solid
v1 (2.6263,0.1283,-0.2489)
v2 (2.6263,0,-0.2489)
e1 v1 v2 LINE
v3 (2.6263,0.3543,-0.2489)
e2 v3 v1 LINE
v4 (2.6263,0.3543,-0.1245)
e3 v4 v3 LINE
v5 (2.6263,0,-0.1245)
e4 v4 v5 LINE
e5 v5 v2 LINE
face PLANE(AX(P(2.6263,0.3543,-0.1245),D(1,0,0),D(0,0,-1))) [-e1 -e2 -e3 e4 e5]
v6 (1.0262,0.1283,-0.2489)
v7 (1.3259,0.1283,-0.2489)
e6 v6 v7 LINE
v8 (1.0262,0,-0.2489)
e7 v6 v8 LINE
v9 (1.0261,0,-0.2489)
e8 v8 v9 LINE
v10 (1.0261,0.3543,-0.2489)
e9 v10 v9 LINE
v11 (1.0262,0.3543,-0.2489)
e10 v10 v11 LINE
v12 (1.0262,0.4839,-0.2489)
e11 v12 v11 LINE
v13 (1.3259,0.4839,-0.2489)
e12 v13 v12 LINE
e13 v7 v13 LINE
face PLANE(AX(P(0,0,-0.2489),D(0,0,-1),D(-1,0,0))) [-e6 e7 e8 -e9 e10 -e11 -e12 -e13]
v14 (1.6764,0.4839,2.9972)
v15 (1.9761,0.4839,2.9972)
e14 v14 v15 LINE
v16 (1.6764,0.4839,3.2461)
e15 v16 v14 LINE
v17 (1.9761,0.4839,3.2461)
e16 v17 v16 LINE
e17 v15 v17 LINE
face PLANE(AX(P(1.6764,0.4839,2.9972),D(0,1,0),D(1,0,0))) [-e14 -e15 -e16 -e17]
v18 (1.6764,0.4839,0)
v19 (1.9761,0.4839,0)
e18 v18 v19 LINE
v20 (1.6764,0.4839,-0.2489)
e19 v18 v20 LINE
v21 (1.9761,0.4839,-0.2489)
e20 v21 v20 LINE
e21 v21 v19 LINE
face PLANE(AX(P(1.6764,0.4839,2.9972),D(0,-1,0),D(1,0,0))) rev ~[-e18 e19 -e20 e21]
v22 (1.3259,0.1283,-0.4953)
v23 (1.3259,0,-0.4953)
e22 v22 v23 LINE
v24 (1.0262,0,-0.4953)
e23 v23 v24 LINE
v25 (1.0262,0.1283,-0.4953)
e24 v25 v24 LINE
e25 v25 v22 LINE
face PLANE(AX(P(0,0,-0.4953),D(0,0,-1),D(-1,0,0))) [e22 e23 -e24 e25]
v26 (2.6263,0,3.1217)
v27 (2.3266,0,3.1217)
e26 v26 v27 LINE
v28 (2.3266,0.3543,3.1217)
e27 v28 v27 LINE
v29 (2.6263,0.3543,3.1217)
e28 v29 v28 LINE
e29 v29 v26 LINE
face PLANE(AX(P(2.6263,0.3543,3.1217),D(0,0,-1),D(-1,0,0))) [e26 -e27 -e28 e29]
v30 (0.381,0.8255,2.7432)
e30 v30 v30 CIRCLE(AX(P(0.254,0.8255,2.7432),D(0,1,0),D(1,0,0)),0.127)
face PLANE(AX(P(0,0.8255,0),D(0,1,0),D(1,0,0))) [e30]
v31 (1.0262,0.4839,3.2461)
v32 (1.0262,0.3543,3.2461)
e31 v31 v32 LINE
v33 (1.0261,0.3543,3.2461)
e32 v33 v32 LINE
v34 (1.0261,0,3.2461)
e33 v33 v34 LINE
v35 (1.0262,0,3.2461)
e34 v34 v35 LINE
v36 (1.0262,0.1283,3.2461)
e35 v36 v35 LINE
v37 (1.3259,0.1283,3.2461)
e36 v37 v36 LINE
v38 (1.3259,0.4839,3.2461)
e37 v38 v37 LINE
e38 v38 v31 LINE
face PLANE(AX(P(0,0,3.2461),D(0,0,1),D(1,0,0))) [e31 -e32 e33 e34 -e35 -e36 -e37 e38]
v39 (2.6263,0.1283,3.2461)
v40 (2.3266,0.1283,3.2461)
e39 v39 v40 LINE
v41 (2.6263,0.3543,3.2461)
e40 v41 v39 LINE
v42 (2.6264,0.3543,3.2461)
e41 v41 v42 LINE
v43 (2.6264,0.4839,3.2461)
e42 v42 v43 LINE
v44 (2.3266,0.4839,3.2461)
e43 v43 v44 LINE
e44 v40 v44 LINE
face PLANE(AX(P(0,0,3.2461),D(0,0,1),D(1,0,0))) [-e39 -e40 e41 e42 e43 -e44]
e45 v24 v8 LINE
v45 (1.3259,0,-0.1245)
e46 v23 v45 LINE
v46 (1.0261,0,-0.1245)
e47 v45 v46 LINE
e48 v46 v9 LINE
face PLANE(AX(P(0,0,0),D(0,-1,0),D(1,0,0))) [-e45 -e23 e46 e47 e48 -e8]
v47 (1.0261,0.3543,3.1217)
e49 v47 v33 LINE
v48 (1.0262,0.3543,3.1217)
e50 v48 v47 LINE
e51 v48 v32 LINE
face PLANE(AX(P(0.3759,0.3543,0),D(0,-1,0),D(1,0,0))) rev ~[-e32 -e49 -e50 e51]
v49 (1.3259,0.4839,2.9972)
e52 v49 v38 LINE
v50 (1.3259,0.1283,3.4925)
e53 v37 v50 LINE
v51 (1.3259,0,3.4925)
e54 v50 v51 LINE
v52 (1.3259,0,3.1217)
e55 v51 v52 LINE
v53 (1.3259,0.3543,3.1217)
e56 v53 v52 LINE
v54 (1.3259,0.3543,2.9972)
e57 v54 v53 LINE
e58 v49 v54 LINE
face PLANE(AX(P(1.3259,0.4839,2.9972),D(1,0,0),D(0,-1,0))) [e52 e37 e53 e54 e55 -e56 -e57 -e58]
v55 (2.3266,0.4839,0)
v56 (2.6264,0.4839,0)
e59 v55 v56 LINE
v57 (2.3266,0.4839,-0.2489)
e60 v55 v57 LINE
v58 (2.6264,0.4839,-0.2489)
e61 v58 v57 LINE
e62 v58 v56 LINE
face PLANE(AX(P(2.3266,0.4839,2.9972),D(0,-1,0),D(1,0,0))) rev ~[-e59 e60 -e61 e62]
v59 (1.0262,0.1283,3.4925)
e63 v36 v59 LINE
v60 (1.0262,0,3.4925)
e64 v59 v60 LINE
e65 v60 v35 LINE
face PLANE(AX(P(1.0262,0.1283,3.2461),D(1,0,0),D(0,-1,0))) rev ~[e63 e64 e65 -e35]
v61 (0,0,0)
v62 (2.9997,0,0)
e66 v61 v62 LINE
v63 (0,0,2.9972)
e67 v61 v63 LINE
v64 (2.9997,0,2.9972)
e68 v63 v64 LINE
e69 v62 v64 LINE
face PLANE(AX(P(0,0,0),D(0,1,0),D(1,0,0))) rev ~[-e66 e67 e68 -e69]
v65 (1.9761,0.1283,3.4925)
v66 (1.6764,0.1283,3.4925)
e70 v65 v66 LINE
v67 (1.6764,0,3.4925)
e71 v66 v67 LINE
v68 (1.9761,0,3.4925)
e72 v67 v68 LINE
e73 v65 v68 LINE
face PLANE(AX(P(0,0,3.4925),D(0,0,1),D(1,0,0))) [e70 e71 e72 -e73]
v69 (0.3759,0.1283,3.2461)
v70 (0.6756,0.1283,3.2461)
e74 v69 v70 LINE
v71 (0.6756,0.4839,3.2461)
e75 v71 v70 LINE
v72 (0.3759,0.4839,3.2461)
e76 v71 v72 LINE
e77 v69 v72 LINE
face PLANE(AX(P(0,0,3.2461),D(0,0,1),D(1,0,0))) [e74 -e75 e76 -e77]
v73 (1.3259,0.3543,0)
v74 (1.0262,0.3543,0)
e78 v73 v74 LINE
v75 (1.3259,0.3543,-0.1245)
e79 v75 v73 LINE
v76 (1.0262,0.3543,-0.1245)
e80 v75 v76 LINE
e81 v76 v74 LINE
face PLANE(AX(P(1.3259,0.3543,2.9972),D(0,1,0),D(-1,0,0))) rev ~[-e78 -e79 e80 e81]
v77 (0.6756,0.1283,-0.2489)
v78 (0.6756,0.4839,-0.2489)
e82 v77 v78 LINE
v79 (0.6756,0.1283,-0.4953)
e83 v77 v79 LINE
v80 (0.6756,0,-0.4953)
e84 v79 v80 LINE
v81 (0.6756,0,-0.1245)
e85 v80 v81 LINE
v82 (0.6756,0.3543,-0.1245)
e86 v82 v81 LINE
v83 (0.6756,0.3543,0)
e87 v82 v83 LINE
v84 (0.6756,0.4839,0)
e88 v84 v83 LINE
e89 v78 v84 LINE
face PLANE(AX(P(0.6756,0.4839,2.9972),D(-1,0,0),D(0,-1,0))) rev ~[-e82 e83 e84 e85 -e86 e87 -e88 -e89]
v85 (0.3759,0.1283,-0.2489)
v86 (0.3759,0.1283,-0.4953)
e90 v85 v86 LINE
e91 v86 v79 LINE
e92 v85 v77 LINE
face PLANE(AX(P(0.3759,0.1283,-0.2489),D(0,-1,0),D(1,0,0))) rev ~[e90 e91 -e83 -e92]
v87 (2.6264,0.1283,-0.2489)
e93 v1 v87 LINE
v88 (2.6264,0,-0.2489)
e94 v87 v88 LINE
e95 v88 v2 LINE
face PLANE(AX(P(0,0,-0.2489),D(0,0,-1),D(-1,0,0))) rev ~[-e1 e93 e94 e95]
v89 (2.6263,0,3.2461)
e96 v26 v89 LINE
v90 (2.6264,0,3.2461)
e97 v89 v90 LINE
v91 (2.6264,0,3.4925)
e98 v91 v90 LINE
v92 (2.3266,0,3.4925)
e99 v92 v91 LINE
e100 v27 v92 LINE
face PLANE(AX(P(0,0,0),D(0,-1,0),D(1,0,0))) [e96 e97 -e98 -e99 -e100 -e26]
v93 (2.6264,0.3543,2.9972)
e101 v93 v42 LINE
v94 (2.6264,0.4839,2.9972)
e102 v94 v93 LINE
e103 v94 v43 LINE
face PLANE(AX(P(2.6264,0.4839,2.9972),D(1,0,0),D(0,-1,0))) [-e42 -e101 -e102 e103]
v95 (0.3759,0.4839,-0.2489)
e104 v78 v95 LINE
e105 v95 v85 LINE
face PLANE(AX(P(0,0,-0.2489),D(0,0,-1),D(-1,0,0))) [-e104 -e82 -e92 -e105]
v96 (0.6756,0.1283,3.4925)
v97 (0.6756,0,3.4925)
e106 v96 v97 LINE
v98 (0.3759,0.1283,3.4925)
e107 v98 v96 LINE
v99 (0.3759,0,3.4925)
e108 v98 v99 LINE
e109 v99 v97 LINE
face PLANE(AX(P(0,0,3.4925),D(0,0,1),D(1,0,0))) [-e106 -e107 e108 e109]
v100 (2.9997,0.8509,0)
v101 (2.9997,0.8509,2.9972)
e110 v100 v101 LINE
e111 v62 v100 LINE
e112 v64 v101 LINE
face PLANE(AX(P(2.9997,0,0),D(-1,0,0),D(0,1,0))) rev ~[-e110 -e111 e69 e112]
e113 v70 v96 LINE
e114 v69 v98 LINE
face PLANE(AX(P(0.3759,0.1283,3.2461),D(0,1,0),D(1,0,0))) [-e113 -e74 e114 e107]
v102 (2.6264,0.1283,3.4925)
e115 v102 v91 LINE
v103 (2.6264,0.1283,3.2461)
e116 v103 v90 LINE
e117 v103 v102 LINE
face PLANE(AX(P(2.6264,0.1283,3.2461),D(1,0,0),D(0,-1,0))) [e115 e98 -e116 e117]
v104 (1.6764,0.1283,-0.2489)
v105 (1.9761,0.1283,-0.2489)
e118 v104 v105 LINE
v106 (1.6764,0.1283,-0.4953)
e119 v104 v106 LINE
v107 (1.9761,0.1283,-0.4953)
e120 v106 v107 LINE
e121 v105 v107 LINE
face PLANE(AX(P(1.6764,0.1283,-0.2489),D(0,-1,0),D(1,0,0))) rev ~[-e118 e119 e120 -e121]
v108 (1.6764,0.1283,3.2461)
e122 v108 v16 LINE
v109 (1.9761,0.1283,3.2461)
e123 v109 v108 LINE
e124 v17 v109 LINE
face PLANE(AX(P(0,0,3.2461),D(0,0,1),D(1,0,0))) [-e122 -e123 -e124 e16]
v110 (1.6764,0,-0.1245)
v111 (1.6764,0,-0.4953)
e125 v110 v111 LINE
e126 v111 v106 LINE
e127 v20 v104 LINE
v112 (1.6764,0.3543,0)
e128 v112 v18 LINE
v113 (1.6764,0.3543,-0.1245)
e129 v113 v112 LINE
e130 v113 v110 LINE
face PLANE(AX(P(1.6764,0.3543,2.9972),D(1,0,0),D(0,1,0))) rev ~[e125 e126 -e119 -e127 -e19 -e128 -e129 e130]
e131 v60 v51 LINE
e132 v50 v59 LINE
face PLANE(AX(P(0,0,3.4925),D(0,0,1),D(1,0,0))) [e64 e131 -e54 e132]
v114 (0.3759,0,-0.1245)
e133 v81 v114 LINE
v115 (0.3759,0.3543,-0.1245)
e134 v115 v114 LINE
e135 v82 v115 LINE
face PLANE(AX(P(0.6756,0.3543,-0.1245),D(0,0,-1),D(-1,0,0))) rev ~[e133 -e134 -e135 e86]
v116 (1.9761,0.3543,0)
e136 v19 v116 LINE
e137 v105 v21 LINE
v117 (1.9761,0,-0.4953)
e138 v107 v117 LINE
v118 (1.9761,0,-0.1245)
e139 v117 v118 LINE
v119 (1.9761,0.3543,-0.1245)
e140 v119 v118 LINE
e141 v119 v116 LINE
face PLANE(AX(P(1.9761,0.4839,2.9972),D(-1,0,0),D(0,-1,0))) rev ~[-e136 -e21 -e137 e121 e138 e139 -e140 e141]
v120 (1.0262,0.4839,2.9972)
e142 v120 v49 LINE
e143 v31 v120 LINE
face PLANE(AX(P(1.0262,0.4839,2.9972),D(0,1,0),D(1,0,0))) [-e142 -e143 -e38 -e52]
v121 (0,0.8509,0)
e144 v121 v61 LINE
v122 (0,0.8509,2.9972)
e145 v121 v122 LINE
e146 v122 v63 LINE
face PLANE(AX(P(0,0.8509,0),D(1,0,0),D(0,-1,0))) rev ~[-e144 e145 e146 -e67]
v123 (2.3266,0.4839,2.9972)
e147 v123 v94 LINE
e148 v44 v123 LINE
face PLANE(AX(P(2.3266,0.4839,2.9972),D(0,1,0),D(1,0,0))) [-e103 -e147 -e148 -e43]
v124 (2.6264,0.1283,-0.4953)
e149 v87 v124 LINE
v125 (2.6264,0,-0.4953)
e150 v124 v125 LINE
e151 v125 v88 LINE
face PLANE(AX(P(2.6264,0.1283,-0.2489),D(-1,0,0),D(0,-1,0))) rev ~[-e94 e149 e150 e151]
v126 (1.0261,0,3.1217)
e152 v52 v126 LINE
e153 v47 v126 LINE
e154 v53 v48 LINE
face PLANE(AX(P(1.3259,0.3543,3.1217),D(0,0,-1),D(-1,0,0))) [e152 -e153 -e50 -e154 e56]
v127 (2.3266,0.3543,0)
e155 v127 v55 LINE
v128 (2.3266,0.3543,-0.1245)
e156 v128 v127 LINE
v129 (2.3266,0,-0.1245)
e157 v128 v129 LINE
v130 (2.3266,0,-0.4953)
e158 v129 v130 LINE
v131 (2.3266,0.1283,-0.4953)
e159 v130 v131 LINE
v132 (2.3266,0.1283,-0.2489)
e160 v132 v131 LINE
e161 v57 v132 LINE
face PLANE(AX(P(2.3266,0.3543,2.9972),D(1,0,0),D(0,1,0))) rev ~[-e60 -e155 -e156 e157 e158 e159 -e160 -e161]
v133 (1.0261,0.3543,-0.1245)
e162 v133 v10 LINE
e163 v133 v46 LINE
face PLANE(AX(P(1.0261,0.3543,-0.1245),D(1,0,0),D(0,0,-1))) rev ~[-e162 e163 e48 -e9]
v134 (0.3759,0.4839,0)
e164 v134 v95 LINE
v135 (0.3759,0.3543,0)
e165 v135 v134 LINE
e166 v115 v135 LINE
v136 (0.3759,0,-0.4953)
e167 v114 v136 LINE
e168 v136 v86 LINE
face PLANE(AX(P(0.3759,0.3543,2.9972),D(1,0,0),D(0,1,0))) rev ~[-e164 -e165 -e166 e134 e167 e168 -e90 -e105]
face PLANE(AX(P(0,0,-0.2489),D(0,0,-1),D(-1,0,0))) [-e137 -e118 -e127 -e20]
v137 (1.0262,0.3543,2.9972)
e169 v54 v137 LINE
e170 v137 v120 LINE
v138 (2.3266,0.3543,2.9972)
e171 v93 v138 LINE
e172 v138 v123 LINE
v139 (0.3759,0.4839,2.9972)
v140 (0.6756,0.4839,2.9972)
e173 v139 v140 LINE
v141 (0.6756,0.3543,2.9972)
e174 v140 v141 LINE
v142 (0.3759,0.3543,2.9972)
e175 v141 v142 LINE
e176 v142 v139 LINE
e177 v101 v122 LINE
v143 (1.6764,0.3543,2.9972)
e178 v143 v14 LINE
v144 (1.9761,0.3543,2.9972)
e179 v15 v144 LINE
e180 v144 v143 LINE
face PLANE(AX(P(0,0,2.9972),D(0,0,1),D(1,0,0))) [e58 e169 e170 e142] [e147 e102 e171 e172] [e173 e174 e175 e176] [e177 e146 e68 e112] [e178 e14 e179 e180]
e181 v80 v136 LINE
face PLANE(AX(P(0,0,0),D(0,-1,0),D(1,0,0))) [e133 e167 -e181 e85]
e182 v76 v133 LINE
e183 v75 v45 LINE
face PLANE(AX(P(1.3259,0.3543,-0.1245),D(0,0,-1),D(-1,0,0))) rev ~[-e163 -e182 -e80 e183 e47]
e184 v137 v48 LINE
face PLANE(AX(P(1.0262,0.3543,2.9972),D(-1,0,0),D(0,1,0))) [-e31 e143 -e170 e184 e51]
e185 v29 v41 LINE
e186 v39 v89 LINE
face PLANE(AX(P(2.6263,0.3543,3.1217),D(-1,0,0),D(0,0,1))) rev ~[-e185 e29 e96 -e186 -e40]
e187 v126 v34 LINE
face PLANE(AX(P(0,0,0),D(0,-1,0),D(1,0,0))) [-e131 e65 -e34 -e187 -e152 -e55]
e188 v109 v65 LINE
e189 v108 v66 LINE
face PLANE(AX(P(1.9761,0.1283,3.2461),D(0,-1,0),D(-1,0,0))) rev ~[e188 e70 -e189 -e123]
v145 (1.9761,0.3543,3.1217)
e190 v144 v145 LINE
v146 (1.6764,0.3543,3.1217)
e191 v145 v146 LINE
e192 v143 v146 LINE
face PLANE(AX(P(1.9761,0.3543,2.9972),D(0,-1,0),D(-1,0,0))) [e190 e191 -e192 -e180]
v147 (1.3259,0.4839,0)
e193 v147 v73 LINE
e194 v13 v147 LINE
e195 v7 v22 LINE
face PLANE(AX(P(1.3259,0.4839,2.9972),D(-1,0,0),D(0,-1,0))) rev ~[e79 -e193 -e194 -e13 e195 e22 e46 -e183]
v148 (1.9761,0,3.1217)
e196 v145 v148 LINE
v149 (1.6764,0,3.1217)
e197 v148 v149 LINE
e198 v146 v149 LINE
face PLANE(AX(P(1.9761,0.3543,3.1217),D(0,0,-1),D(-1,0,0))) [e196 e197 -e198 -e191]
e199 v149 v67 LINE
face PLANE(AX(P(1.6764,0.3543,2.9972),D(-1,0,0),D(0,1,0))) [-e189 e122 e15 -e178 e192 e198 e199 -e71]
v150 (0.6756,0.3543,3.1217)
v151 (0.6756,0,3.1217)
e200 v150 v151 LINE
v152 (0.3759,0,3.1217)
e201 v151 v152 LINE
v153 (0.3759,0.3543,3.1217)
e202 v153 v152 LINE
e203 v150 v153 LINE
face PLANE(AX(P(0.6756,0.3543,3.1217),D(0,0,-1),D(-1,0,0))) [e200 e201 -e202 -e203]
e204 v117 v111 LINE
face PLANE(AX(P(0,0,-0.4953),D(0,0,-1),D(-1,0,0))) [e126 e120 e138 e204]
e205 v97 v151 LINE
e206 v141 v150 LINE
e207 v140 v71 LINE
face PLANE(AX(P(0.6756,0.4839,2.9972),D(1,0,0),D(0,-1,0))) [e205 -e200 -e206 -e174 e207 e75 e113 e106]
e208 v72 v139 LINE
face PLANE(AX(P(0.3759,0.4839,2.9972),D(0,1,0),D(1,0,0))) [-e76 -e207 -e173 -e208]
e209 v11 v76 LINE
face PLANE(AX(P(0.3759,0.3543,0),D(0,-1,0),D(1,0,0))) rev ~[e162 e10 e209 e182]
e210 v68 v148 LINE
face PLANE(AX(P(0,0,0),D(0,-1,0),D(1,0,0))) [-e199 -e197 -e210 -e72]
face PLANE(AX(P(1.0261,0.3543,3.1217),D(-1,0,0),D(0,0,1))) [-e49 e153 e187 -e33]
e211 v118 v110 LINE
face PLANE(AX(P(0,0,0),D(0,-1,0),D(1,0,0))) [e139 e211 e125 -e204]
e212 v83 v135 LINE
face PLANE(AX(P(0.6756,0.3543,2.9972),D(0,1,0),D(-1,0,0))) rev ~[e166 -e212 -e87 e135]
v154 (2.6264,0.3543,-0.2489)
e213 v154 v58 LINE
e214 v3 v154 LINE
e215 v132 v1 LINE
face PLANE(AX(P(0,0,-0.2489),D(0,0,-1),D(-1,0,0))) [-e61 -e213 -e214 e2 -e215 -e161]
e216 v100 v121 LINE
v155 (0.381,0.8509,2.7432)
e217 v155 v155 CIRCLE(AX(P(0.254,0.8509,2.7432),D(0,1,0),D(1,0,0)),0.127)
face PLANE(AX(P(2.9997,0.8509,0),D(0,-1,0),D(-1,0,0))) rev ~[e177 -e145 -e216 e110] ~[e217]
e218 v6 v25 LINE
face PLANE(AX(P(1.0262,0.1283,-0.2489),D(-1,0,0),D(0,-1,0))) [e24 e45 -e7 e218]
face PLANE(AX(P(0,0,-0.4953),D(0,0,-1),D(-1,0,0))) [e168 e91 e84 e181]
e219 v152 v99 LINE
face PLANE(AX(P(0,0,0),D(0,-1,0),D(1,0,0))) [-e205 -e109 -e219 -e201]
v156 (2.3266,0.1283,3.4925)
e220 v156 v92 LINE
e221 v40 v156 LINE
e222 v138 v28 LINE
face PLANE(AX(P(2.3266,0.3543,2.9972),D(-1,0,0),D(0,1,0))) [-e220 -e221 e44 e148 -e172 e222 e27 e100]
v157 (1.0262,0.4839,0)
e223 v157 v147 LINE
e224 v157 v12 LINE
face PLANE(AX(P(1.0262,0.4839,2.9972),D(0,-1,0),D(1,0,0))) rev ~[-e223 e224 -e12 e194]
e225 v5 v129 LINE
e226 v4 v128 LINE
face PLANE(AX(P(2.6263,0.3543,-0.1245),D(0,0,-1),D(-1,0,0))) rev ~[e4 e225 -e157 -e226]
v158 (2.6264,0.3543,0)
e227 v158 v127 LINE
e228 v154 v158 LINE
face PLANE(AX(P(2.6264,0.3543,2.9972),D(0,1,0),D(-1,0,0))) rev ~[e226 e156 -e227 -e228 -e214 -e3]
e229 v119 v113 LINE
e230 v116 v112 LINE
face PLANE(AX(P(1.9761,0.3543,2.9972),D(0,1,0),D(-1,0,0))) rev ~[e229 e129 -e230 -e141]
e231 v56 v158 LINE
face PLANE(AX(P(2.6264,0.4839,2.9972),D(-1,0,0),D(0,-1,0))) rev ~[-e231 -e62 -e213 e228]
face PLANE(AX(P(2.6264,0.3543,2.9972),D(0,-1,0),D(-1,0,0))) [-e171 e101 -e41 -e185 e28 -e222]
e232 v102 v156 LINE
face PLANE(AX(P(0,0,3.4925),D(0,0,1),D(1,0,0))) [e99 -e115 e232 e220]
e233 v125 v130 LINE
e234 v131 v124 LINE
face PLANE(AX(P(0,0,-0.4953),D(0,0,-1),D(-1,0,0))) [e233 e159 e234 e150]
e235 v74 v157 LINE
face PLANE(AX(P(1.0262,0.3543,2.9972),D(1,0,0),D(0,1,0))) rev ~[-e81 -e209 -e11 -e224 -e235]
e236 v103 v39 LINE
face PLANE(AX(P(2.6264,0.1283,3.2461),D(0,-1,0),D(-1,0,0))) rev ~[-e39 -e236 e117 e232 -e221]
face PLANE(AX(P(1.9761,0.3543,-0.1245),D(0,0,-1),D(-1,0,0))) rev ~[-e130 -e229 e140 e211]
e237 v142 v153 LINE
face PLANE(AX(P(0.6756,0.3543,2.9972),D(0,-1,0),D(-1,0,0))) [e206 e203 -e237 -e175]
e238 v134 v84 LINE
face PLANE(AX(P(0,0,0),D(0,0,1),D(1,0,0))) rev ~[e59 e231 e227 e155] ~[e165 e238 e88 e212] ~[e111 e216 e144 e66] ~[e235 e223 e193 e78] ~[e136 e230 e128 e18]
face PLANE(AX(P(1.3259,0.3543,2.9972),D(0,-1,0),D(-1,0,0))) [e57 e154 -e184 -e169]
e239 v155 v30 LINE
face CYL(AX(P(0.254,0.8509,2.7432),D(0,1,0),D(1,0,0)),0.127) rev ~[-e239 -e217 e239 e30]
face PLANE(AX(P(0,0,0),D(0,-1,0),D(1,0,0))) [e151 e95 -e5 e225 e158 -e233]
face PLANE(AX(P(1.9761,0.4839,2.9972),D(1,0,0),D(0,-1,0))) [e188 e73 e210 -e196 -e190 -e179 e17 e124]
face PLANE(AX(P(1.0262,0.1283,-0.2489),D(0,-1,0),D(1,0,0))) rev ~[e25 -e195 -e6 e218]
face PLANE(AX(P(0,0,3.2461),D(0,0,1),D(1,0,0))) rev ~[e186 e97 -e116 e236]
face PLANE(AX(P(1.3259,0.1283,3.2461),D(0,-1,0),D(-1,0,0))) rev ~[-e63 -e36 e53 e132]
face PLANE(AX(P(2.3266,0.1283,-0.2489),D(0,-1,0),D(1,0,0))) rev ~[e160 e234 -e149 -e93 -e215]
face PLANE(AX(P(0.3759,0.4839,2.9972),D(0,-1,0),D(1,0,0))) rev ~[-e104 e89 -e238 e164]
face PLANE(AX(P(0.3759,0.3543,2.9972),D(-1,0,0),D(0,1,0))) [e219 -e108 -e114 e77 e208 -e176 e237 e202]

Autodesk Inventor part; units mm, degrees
ref_plane "YZ Plane" through (0, 0, 0) normal (1, 0, 0) x (0, 1, 0)
ref_plane "XZ Plane" through (0, 0, 0) normal (0, 1, 0) x (-1, 0, 0)
ref_plane "XY Plane" through (0, 0, 0) normal (0, 0, 1) x (1, 0, 0)
sketch "Sketch1" plane through (0, 0, 0) normal (0, 0, 1) x (1, 0, 0)
  line L0 (0, 0) -> (2.9997, 0)
  line L1 (2.9997, 0) -> (2.9997, 0.8509)
  line L2 (2.9997, 0.8509) -> (0, 0.8509)
  line L3 (0, 0.8509) -> (0, 0)
  dimension "d0" = 2.9997
  dimension "d1" = 0.8509
extrude "Extrusion1" add sketch "Sketch1" along normal blind 2.9972
sketch "Sketch2" plane through (0, 0, 2.9972) normal (0, 0, 1) x (1, 0, 0)
  line L0 (0.3759, 0.4839) -> (0.6756, 0.4839)
  line L1 (0.6756, 0.4839) -> (0.6756, 0.3543)
  line L2 (0.6756, 0.3543) -> (0.3759, 0.3543)
  line L3 (0.3759, 0.3543) -> (0.3759, 0.4839)
  line L4 (0, 0.8509) -> (0, 0) projected
  line L5 (2.9997, 0.8509) -> (0, 0.8509) projected
  line L6 (1.0262, 0.4839) -> (1.3259, 0.4839)
  line L7 (1.3259, 0.4839) -> (1.3259, 0.3543)
  line L8 (1.3259, 0.3543) -> (1.0262, 0.3543)
  line L9 (1.0262, 0.3543) -> (1.0262, 0.4839)
  line L10 (1.6764, 0.4839) -> (1.9761, 0.4839)
  line L11 (1.9761, 0.4839) -> (1.9761, 0.3543)
  line L12 (1.9761, 0.3543) -> (1.6764, 0.3543)
  line L13 (1.6764, 0.3543) -> (1.6764, 0.4839)
  line L14 (2.3266, 0.4839) -> (2.6264, 0.4839)
  line L15 (2.6264, 0.4839) -> (2.6264, 0.3543)
  line L16 (2.6264, 0.3543) -> (2.3266, 0.3543)
  line L17 (2.3266, 0.3543) -> (2.3266, 0.4839)
  dimension "d4" = 0.1295
  dimension "d5" = 0.2997
  dimension "d6" = 0.3759
  dimension "d7" = 0.367
  dimension "d10" = 0.6502
extrude "Extrusion2" add sketch "Sketch2" along normal blind 0.1194
extrude "Extrusion3" add sketch "Sketch2" against normal blind 3.1166
sketch "Sketch3" plane through (0, 0, 3.1166) normal (0, 0, 1) x (1, 0, 0)
  line L0 (0.6756, 0.4839) -> (0.3759, 0.4839)
  line L1 (0.3759, 0.4839) -> (0.3759, 0.3543)
  line L2 (0.3759, 0.3543) -> (0.6756, 0.3543)
  line L3 (0.6756, 0.3543) -> (0.6756, 0.4839)
  line L4 (1.3259, 0.4839) -> (1.0262, 0.4839)
  line L5 (1.0262, 0.4839) -> (1.0262, 0.3543)
  line L6 (1.0262, 0.3543) -> (1.3259, 0.3543)
  line L7 (1.3259, 0.3543) -> (1.3259, 0.4839)
  line L8 (1.9761, 0.4839) -> (1.6764, 0.4839)
  line L9 (1.6764, 0.4839) -> (1.6764, 0.3543)
  line L10 (1.6764, 0.3543) -> (1.9761, 0.3543)
  line L11 (1.9761, 0.3543) -> (1.9761, 0.4839)
  line L12 (2.6264, 0.4839) -> (2.3266, 0.4839)
  line L13 (2.3266, 0.4839) -> (2.3266, 0.3543)
  line L14 (2.3266, 0.3543) -> (2.6264, 0.3543)
  line L15 (2.6264, 0.3543) -> (2.6264, 0.4839)
  point P0 (0, 0)
extrude "Extrusion4" add sketch "Sketch3" along normal blind 0.1295
sketch "Sketch4" plane through (0, 0, -0.1194) normal (0, 0, -1) x (-1, 0, 0)
  line L0 (-2.6264, 0.4839) -> (-2.3266, 0.4839)
  line L1 (-2.3266, 0.4839) -> (-2.3266, 0.3543)
  line L2 (-2.3266, 0.3543) -> (-2.6264, 0.3543)
  line L3 (-2.6264, 0.3543) -> (-2.6264, 0.4839)
  line L4 (-1.9761, 0.4839) -> (-1.6764, 0.4839)
  line L5 (-1.6764, 0.4839) -> (-1.6764, 0.3543)
  line L6 (-1.6764, 0.3543) -> (-1.9761, 0.3543)
  line L7 (-1.9761, 0.3543) -> (-1.9761, 0.4839)
  line L8 (-1.3259, 0.4839) -> (-1.0262, 0.4839)
  line L9 (-1.0262, 0.4839) -> (-1.0262, 0.3543)
  line L10 (-1.0262, 0.3543) -> (-1.3259, 0.3543)
  line L11 (-1.3259, 0.3543) -> (-1.3259, 0.4839)
  line L12 (-0.6756, 0.4839) -> (-0.3759, 0.4839)
  line L13 (-0.3759, 0.4839) -> (-0.3759, 0.3543)
  line L14 (-0.3759, 0.3543) -> (-0.6756, 0.3543)
  line L15 (-0.6756, 0.3543) -> (-0.6756, 0.4839)
  point P0 (0, 0)
extrude "Extrusion5" add sketch "Sketch4" along normal blind 0.1295
sketch "Sketch5" plane through (0.3759, 0.3543, 0) normal (0, -1, 0) x (1, 0, 0)
  line L0 (0.2997, 0) -> (0.2997, -0.2489) projected
  line L1 (0, -0.2489) -> (0.2997, -0.2489)
  line L2 (0.2997, -0.2489) -> (0.2997, -0.1245)
  line L3 (0.2997, -0.1245) -> (0, -0.1245)
  line L4 (0, -0.1245) -> (0, -0.2489)
  line L5 (0.95, 0) -> (0.95, -0.2489) projected
  line L6 (0.6502, -0.2489) -> (0.95, -0.2489)
  line L7 (0.95, -0.2489) -> (0.95, -0.1245)
  line L8 (0.95, -0.1245) -> (0.6502, -0.1245)
  line L9 (0.6502, -0.1245) -> (0.6502, -0.2489)
  line L10 (1.3005, -0.2489) -> (1.6002, -0.2489)
  line L11 (1.6002, -0.2489) -> (1.6002, -0.1245)
  line L12 (1.6002, -0.1245) -> (1.3005, -0.1245)
  line L13 (1.3005, -0.1245) -> (1.3005, -0.2489)
  line L14 (2.2504, 0) -> (2.2504, -0.2489) projected
  line L15 (1.9507, -0.2489) -> (2.2504, -0.2489)
  line L16 (2.2504, -0.2489) -> (2.2504, -0.1245)
  line L17 (2.2504, -0.1245) -> (1.9507, -0.1245)
  line L18 (1.9507, -0.1245) -> (1.9507, -0.2489)
  line L19 (0.2997, 2.9972) -> (0.2997, 3.2461) projected
  line L20 (0, 3.2461) -> (0.2997, 3.2461)
  line L21 (0.2997, 3.2461) -> (0.2997, 3.1217)
  line L22 (0.2997, 3.1217) -> (0, 3.1217)
  line L23 (0, 3.1217) -> (0, 3.2461)
  line L24 (0.95, 2.9972) -> (0.95, 3.2461) projected
  line L25 (0.6502, 3.2461) -> (0.95, 3.2461)
  line L26 (0.95, 3.2461) -> (0.95, 3.1217)
  line L27 (0.95, 3.1217) -> (0.6502, 3.1217)
  line L28 (0.6502, 3.1217) -> (0.6502, 3.2461)
  line L29 (1.6002, 2.9972) -> (1.6002, 3.2461) projected
  line L30 (1.3005, 3.2461) -> (1.6002, 3.2461)
  line L31 (1.6002, 3.2461) -> (1.6002, 3.1217)
  line L32 (1.6002, 3.1217) -> (1.3005, 3.1217)
  line L33 (1.3005, 3.1217) -> (1.3005, 3.2461)
  line L34 (2.2504, 2.9972) -> (2.2504, 3.2461) projected
  line L35 (1.9507, 3.2461) -> (2.2504, 3.2461)
  line L36 (2.2504, 3.2461) -> (2.2504, 3.1217)
  line L37 (2.2504, 3.1217) -> (1.9507, 3.1217)
  line L38 (1.9507, 3.1217) -> (1.9507, 3.2461)
  point P0 (-0.3759, 0)
extrude "Extrusion6" add sketch "Sketch5" along normal blind 0.3556
sketch "Sketch6" plane through (0, 0, 3.2461) normal (0, 0, 1) x (1, 0, 0)
  line L0 (0.3759, 0.4839) -> (0.3759, -0.0013) projected
  line L1 (0.6756, -0.0013) -> (0.3759, -0.0013)
  line L2 (0.3759, -0.0013) -> (0.3759, 0.1283)
  line L3 (0.3759, 0.1283) -> (0.6756, 0.1283)
  line L4 (0.6756, 0.1283) -> (0.6756, -0.0013)
  line L5 (1.3259, 0.3543) -> (1.3259, -0.0013) projected
  line L6 (1.0262, -0.0013) -> (1.3259, -0.0013)
  line L7 (1.3259, -0.0013) -> (1.3259, 0.1283)
  line L8 (1.3259, 0.1283) -> (1.0262, 0.1283)
  line L9 (1.0262, 0.1283) -> (1.0262, -0.0013)
  line L10 (1.9761, 0.3543) -> (1.9761, -0.0013) projected
  line L11 (1.6764, -0.0013) -> (1.9761, -0.0013)
  line L12 (1.9761, -0.0013) -> (1.9761, 0.1283)
  line L13 (1.9761, 0.1283) -> (1.6764, 0.1283)
  line L14 (1.6764, 0.1283) -> (1.6764, -0.0013)
  line L15 (2.6264, 0.4839) -> (2.6264, -0.0013) projected
  line L16 (2.3266, -0.0013) -> (2.6264, -0.0013)
  line L17 (2.6264, -0.0013) -> (2.6264, 0.1283)
  line L18 (2.6264, 0.1283) -> (2.3266, 0.1283)
  line L19 (2.3266, 0.1283) -> (2.3266, -0.0013)
  point P0 (0, 0)
  dimension "d25" = 0.1295
extrude "Extrusion7" add sketch "Sketch6" along normal blind 0.2464
sketch "Sketch7" plane through (0, 0, -0.2489) normal (0, 0, -1) x (-1, 0, 0)
  line L0 (-2.6264, -0.0013) -> (-2.3266, -0.0013)
  line L1 (-2.3266, -0.0013) -> (-2.3266, 0.1283)
  line L2 (-2.3266, 0.1283) -> (-2.6264, 0.1283)
  line L3 (-2.6264, 0.1283) -> (-2.6264, -0.0013)
  line L4 (-1.9761, -0.0013) -> (-1.6764, -0.0013)
  line L5 (-1.6764, -0.0013) -> (-1.6764, 0.1283)
  line L6 (-1.6764, 0.1283) -> (-1.9761, 0.1283)
  line L7 (-1.9761, 0.1283) -> (-1.9761, -0.0013)
  line L8 (-1.0262, 0.3543) -> (-1.0262, -0.0013) projected
  line L9 (-1.3259, -0.0013) -> (-1.0262, -0.0013)
  line L10 (-1.0262, -0.0013) -> (-1.0262, 0.1283)
  line L11 (-1.0262, 0.1283) -> (-1.3259, 0.1283)
  line L12 (-1.3259, 0.1283) -> (-1.3259, -0.0013)
  line L13 (-0.6756, -0.0013) -> (-0.3759, -0.0013)
  line L14 (-0.3759, -0.0013) -> (-0.3759, 0.1283)
  line L15 (-0.3759, 0.1283) -> (-0.6756, 0.1283)
  line L16 (-0.6756, 0.1283) -> (-0.6756, -0.0013)
  point P0 (0, 0)
extrude "Extrusion8" add sketch "Sketch7" along normal blind 0.2464
sketch "Sketch8" plane through (0, 0, 0) normal (0, -1, 0) x (1, 0, 0)
  line L0 (-1.2528, -0.9199) -> (4.4304, -0.9199)
  line L1 (4.4304, -0.9199) -> (4.4304, 4.3493)
  line L2 (4.4304, 4.3493) -> (-1.2528, 4.3493)
  line L3 (-1.2528, 4.3493) -> (-1.2528, -0.9199)
  point P0 (0, 0)
extrude "Extrusion9" cut sketch "Sketch8" along normal blind 0.2464
sketch "Sketch9" plane through (0, 0.8509, 0) normal (0, 1, 0) x (1, 0, 0)
  circle A0 centre (0.254, -2.7432) radius 0.127
  line L0 (2.9997, -2.9972) -> (0, -2.9972) projected
  line L1 (0, 0) -> (0, -2.9972) projected
  dimension "d32" = 0.254
  dimension "d33" = 0.254
  dimension "d34" = 0.254
extrude "Extrusion10" cut sketch "Sketch9" against normal blind 0.0254
properties part number "s74LVC2G08 Dual AND"
